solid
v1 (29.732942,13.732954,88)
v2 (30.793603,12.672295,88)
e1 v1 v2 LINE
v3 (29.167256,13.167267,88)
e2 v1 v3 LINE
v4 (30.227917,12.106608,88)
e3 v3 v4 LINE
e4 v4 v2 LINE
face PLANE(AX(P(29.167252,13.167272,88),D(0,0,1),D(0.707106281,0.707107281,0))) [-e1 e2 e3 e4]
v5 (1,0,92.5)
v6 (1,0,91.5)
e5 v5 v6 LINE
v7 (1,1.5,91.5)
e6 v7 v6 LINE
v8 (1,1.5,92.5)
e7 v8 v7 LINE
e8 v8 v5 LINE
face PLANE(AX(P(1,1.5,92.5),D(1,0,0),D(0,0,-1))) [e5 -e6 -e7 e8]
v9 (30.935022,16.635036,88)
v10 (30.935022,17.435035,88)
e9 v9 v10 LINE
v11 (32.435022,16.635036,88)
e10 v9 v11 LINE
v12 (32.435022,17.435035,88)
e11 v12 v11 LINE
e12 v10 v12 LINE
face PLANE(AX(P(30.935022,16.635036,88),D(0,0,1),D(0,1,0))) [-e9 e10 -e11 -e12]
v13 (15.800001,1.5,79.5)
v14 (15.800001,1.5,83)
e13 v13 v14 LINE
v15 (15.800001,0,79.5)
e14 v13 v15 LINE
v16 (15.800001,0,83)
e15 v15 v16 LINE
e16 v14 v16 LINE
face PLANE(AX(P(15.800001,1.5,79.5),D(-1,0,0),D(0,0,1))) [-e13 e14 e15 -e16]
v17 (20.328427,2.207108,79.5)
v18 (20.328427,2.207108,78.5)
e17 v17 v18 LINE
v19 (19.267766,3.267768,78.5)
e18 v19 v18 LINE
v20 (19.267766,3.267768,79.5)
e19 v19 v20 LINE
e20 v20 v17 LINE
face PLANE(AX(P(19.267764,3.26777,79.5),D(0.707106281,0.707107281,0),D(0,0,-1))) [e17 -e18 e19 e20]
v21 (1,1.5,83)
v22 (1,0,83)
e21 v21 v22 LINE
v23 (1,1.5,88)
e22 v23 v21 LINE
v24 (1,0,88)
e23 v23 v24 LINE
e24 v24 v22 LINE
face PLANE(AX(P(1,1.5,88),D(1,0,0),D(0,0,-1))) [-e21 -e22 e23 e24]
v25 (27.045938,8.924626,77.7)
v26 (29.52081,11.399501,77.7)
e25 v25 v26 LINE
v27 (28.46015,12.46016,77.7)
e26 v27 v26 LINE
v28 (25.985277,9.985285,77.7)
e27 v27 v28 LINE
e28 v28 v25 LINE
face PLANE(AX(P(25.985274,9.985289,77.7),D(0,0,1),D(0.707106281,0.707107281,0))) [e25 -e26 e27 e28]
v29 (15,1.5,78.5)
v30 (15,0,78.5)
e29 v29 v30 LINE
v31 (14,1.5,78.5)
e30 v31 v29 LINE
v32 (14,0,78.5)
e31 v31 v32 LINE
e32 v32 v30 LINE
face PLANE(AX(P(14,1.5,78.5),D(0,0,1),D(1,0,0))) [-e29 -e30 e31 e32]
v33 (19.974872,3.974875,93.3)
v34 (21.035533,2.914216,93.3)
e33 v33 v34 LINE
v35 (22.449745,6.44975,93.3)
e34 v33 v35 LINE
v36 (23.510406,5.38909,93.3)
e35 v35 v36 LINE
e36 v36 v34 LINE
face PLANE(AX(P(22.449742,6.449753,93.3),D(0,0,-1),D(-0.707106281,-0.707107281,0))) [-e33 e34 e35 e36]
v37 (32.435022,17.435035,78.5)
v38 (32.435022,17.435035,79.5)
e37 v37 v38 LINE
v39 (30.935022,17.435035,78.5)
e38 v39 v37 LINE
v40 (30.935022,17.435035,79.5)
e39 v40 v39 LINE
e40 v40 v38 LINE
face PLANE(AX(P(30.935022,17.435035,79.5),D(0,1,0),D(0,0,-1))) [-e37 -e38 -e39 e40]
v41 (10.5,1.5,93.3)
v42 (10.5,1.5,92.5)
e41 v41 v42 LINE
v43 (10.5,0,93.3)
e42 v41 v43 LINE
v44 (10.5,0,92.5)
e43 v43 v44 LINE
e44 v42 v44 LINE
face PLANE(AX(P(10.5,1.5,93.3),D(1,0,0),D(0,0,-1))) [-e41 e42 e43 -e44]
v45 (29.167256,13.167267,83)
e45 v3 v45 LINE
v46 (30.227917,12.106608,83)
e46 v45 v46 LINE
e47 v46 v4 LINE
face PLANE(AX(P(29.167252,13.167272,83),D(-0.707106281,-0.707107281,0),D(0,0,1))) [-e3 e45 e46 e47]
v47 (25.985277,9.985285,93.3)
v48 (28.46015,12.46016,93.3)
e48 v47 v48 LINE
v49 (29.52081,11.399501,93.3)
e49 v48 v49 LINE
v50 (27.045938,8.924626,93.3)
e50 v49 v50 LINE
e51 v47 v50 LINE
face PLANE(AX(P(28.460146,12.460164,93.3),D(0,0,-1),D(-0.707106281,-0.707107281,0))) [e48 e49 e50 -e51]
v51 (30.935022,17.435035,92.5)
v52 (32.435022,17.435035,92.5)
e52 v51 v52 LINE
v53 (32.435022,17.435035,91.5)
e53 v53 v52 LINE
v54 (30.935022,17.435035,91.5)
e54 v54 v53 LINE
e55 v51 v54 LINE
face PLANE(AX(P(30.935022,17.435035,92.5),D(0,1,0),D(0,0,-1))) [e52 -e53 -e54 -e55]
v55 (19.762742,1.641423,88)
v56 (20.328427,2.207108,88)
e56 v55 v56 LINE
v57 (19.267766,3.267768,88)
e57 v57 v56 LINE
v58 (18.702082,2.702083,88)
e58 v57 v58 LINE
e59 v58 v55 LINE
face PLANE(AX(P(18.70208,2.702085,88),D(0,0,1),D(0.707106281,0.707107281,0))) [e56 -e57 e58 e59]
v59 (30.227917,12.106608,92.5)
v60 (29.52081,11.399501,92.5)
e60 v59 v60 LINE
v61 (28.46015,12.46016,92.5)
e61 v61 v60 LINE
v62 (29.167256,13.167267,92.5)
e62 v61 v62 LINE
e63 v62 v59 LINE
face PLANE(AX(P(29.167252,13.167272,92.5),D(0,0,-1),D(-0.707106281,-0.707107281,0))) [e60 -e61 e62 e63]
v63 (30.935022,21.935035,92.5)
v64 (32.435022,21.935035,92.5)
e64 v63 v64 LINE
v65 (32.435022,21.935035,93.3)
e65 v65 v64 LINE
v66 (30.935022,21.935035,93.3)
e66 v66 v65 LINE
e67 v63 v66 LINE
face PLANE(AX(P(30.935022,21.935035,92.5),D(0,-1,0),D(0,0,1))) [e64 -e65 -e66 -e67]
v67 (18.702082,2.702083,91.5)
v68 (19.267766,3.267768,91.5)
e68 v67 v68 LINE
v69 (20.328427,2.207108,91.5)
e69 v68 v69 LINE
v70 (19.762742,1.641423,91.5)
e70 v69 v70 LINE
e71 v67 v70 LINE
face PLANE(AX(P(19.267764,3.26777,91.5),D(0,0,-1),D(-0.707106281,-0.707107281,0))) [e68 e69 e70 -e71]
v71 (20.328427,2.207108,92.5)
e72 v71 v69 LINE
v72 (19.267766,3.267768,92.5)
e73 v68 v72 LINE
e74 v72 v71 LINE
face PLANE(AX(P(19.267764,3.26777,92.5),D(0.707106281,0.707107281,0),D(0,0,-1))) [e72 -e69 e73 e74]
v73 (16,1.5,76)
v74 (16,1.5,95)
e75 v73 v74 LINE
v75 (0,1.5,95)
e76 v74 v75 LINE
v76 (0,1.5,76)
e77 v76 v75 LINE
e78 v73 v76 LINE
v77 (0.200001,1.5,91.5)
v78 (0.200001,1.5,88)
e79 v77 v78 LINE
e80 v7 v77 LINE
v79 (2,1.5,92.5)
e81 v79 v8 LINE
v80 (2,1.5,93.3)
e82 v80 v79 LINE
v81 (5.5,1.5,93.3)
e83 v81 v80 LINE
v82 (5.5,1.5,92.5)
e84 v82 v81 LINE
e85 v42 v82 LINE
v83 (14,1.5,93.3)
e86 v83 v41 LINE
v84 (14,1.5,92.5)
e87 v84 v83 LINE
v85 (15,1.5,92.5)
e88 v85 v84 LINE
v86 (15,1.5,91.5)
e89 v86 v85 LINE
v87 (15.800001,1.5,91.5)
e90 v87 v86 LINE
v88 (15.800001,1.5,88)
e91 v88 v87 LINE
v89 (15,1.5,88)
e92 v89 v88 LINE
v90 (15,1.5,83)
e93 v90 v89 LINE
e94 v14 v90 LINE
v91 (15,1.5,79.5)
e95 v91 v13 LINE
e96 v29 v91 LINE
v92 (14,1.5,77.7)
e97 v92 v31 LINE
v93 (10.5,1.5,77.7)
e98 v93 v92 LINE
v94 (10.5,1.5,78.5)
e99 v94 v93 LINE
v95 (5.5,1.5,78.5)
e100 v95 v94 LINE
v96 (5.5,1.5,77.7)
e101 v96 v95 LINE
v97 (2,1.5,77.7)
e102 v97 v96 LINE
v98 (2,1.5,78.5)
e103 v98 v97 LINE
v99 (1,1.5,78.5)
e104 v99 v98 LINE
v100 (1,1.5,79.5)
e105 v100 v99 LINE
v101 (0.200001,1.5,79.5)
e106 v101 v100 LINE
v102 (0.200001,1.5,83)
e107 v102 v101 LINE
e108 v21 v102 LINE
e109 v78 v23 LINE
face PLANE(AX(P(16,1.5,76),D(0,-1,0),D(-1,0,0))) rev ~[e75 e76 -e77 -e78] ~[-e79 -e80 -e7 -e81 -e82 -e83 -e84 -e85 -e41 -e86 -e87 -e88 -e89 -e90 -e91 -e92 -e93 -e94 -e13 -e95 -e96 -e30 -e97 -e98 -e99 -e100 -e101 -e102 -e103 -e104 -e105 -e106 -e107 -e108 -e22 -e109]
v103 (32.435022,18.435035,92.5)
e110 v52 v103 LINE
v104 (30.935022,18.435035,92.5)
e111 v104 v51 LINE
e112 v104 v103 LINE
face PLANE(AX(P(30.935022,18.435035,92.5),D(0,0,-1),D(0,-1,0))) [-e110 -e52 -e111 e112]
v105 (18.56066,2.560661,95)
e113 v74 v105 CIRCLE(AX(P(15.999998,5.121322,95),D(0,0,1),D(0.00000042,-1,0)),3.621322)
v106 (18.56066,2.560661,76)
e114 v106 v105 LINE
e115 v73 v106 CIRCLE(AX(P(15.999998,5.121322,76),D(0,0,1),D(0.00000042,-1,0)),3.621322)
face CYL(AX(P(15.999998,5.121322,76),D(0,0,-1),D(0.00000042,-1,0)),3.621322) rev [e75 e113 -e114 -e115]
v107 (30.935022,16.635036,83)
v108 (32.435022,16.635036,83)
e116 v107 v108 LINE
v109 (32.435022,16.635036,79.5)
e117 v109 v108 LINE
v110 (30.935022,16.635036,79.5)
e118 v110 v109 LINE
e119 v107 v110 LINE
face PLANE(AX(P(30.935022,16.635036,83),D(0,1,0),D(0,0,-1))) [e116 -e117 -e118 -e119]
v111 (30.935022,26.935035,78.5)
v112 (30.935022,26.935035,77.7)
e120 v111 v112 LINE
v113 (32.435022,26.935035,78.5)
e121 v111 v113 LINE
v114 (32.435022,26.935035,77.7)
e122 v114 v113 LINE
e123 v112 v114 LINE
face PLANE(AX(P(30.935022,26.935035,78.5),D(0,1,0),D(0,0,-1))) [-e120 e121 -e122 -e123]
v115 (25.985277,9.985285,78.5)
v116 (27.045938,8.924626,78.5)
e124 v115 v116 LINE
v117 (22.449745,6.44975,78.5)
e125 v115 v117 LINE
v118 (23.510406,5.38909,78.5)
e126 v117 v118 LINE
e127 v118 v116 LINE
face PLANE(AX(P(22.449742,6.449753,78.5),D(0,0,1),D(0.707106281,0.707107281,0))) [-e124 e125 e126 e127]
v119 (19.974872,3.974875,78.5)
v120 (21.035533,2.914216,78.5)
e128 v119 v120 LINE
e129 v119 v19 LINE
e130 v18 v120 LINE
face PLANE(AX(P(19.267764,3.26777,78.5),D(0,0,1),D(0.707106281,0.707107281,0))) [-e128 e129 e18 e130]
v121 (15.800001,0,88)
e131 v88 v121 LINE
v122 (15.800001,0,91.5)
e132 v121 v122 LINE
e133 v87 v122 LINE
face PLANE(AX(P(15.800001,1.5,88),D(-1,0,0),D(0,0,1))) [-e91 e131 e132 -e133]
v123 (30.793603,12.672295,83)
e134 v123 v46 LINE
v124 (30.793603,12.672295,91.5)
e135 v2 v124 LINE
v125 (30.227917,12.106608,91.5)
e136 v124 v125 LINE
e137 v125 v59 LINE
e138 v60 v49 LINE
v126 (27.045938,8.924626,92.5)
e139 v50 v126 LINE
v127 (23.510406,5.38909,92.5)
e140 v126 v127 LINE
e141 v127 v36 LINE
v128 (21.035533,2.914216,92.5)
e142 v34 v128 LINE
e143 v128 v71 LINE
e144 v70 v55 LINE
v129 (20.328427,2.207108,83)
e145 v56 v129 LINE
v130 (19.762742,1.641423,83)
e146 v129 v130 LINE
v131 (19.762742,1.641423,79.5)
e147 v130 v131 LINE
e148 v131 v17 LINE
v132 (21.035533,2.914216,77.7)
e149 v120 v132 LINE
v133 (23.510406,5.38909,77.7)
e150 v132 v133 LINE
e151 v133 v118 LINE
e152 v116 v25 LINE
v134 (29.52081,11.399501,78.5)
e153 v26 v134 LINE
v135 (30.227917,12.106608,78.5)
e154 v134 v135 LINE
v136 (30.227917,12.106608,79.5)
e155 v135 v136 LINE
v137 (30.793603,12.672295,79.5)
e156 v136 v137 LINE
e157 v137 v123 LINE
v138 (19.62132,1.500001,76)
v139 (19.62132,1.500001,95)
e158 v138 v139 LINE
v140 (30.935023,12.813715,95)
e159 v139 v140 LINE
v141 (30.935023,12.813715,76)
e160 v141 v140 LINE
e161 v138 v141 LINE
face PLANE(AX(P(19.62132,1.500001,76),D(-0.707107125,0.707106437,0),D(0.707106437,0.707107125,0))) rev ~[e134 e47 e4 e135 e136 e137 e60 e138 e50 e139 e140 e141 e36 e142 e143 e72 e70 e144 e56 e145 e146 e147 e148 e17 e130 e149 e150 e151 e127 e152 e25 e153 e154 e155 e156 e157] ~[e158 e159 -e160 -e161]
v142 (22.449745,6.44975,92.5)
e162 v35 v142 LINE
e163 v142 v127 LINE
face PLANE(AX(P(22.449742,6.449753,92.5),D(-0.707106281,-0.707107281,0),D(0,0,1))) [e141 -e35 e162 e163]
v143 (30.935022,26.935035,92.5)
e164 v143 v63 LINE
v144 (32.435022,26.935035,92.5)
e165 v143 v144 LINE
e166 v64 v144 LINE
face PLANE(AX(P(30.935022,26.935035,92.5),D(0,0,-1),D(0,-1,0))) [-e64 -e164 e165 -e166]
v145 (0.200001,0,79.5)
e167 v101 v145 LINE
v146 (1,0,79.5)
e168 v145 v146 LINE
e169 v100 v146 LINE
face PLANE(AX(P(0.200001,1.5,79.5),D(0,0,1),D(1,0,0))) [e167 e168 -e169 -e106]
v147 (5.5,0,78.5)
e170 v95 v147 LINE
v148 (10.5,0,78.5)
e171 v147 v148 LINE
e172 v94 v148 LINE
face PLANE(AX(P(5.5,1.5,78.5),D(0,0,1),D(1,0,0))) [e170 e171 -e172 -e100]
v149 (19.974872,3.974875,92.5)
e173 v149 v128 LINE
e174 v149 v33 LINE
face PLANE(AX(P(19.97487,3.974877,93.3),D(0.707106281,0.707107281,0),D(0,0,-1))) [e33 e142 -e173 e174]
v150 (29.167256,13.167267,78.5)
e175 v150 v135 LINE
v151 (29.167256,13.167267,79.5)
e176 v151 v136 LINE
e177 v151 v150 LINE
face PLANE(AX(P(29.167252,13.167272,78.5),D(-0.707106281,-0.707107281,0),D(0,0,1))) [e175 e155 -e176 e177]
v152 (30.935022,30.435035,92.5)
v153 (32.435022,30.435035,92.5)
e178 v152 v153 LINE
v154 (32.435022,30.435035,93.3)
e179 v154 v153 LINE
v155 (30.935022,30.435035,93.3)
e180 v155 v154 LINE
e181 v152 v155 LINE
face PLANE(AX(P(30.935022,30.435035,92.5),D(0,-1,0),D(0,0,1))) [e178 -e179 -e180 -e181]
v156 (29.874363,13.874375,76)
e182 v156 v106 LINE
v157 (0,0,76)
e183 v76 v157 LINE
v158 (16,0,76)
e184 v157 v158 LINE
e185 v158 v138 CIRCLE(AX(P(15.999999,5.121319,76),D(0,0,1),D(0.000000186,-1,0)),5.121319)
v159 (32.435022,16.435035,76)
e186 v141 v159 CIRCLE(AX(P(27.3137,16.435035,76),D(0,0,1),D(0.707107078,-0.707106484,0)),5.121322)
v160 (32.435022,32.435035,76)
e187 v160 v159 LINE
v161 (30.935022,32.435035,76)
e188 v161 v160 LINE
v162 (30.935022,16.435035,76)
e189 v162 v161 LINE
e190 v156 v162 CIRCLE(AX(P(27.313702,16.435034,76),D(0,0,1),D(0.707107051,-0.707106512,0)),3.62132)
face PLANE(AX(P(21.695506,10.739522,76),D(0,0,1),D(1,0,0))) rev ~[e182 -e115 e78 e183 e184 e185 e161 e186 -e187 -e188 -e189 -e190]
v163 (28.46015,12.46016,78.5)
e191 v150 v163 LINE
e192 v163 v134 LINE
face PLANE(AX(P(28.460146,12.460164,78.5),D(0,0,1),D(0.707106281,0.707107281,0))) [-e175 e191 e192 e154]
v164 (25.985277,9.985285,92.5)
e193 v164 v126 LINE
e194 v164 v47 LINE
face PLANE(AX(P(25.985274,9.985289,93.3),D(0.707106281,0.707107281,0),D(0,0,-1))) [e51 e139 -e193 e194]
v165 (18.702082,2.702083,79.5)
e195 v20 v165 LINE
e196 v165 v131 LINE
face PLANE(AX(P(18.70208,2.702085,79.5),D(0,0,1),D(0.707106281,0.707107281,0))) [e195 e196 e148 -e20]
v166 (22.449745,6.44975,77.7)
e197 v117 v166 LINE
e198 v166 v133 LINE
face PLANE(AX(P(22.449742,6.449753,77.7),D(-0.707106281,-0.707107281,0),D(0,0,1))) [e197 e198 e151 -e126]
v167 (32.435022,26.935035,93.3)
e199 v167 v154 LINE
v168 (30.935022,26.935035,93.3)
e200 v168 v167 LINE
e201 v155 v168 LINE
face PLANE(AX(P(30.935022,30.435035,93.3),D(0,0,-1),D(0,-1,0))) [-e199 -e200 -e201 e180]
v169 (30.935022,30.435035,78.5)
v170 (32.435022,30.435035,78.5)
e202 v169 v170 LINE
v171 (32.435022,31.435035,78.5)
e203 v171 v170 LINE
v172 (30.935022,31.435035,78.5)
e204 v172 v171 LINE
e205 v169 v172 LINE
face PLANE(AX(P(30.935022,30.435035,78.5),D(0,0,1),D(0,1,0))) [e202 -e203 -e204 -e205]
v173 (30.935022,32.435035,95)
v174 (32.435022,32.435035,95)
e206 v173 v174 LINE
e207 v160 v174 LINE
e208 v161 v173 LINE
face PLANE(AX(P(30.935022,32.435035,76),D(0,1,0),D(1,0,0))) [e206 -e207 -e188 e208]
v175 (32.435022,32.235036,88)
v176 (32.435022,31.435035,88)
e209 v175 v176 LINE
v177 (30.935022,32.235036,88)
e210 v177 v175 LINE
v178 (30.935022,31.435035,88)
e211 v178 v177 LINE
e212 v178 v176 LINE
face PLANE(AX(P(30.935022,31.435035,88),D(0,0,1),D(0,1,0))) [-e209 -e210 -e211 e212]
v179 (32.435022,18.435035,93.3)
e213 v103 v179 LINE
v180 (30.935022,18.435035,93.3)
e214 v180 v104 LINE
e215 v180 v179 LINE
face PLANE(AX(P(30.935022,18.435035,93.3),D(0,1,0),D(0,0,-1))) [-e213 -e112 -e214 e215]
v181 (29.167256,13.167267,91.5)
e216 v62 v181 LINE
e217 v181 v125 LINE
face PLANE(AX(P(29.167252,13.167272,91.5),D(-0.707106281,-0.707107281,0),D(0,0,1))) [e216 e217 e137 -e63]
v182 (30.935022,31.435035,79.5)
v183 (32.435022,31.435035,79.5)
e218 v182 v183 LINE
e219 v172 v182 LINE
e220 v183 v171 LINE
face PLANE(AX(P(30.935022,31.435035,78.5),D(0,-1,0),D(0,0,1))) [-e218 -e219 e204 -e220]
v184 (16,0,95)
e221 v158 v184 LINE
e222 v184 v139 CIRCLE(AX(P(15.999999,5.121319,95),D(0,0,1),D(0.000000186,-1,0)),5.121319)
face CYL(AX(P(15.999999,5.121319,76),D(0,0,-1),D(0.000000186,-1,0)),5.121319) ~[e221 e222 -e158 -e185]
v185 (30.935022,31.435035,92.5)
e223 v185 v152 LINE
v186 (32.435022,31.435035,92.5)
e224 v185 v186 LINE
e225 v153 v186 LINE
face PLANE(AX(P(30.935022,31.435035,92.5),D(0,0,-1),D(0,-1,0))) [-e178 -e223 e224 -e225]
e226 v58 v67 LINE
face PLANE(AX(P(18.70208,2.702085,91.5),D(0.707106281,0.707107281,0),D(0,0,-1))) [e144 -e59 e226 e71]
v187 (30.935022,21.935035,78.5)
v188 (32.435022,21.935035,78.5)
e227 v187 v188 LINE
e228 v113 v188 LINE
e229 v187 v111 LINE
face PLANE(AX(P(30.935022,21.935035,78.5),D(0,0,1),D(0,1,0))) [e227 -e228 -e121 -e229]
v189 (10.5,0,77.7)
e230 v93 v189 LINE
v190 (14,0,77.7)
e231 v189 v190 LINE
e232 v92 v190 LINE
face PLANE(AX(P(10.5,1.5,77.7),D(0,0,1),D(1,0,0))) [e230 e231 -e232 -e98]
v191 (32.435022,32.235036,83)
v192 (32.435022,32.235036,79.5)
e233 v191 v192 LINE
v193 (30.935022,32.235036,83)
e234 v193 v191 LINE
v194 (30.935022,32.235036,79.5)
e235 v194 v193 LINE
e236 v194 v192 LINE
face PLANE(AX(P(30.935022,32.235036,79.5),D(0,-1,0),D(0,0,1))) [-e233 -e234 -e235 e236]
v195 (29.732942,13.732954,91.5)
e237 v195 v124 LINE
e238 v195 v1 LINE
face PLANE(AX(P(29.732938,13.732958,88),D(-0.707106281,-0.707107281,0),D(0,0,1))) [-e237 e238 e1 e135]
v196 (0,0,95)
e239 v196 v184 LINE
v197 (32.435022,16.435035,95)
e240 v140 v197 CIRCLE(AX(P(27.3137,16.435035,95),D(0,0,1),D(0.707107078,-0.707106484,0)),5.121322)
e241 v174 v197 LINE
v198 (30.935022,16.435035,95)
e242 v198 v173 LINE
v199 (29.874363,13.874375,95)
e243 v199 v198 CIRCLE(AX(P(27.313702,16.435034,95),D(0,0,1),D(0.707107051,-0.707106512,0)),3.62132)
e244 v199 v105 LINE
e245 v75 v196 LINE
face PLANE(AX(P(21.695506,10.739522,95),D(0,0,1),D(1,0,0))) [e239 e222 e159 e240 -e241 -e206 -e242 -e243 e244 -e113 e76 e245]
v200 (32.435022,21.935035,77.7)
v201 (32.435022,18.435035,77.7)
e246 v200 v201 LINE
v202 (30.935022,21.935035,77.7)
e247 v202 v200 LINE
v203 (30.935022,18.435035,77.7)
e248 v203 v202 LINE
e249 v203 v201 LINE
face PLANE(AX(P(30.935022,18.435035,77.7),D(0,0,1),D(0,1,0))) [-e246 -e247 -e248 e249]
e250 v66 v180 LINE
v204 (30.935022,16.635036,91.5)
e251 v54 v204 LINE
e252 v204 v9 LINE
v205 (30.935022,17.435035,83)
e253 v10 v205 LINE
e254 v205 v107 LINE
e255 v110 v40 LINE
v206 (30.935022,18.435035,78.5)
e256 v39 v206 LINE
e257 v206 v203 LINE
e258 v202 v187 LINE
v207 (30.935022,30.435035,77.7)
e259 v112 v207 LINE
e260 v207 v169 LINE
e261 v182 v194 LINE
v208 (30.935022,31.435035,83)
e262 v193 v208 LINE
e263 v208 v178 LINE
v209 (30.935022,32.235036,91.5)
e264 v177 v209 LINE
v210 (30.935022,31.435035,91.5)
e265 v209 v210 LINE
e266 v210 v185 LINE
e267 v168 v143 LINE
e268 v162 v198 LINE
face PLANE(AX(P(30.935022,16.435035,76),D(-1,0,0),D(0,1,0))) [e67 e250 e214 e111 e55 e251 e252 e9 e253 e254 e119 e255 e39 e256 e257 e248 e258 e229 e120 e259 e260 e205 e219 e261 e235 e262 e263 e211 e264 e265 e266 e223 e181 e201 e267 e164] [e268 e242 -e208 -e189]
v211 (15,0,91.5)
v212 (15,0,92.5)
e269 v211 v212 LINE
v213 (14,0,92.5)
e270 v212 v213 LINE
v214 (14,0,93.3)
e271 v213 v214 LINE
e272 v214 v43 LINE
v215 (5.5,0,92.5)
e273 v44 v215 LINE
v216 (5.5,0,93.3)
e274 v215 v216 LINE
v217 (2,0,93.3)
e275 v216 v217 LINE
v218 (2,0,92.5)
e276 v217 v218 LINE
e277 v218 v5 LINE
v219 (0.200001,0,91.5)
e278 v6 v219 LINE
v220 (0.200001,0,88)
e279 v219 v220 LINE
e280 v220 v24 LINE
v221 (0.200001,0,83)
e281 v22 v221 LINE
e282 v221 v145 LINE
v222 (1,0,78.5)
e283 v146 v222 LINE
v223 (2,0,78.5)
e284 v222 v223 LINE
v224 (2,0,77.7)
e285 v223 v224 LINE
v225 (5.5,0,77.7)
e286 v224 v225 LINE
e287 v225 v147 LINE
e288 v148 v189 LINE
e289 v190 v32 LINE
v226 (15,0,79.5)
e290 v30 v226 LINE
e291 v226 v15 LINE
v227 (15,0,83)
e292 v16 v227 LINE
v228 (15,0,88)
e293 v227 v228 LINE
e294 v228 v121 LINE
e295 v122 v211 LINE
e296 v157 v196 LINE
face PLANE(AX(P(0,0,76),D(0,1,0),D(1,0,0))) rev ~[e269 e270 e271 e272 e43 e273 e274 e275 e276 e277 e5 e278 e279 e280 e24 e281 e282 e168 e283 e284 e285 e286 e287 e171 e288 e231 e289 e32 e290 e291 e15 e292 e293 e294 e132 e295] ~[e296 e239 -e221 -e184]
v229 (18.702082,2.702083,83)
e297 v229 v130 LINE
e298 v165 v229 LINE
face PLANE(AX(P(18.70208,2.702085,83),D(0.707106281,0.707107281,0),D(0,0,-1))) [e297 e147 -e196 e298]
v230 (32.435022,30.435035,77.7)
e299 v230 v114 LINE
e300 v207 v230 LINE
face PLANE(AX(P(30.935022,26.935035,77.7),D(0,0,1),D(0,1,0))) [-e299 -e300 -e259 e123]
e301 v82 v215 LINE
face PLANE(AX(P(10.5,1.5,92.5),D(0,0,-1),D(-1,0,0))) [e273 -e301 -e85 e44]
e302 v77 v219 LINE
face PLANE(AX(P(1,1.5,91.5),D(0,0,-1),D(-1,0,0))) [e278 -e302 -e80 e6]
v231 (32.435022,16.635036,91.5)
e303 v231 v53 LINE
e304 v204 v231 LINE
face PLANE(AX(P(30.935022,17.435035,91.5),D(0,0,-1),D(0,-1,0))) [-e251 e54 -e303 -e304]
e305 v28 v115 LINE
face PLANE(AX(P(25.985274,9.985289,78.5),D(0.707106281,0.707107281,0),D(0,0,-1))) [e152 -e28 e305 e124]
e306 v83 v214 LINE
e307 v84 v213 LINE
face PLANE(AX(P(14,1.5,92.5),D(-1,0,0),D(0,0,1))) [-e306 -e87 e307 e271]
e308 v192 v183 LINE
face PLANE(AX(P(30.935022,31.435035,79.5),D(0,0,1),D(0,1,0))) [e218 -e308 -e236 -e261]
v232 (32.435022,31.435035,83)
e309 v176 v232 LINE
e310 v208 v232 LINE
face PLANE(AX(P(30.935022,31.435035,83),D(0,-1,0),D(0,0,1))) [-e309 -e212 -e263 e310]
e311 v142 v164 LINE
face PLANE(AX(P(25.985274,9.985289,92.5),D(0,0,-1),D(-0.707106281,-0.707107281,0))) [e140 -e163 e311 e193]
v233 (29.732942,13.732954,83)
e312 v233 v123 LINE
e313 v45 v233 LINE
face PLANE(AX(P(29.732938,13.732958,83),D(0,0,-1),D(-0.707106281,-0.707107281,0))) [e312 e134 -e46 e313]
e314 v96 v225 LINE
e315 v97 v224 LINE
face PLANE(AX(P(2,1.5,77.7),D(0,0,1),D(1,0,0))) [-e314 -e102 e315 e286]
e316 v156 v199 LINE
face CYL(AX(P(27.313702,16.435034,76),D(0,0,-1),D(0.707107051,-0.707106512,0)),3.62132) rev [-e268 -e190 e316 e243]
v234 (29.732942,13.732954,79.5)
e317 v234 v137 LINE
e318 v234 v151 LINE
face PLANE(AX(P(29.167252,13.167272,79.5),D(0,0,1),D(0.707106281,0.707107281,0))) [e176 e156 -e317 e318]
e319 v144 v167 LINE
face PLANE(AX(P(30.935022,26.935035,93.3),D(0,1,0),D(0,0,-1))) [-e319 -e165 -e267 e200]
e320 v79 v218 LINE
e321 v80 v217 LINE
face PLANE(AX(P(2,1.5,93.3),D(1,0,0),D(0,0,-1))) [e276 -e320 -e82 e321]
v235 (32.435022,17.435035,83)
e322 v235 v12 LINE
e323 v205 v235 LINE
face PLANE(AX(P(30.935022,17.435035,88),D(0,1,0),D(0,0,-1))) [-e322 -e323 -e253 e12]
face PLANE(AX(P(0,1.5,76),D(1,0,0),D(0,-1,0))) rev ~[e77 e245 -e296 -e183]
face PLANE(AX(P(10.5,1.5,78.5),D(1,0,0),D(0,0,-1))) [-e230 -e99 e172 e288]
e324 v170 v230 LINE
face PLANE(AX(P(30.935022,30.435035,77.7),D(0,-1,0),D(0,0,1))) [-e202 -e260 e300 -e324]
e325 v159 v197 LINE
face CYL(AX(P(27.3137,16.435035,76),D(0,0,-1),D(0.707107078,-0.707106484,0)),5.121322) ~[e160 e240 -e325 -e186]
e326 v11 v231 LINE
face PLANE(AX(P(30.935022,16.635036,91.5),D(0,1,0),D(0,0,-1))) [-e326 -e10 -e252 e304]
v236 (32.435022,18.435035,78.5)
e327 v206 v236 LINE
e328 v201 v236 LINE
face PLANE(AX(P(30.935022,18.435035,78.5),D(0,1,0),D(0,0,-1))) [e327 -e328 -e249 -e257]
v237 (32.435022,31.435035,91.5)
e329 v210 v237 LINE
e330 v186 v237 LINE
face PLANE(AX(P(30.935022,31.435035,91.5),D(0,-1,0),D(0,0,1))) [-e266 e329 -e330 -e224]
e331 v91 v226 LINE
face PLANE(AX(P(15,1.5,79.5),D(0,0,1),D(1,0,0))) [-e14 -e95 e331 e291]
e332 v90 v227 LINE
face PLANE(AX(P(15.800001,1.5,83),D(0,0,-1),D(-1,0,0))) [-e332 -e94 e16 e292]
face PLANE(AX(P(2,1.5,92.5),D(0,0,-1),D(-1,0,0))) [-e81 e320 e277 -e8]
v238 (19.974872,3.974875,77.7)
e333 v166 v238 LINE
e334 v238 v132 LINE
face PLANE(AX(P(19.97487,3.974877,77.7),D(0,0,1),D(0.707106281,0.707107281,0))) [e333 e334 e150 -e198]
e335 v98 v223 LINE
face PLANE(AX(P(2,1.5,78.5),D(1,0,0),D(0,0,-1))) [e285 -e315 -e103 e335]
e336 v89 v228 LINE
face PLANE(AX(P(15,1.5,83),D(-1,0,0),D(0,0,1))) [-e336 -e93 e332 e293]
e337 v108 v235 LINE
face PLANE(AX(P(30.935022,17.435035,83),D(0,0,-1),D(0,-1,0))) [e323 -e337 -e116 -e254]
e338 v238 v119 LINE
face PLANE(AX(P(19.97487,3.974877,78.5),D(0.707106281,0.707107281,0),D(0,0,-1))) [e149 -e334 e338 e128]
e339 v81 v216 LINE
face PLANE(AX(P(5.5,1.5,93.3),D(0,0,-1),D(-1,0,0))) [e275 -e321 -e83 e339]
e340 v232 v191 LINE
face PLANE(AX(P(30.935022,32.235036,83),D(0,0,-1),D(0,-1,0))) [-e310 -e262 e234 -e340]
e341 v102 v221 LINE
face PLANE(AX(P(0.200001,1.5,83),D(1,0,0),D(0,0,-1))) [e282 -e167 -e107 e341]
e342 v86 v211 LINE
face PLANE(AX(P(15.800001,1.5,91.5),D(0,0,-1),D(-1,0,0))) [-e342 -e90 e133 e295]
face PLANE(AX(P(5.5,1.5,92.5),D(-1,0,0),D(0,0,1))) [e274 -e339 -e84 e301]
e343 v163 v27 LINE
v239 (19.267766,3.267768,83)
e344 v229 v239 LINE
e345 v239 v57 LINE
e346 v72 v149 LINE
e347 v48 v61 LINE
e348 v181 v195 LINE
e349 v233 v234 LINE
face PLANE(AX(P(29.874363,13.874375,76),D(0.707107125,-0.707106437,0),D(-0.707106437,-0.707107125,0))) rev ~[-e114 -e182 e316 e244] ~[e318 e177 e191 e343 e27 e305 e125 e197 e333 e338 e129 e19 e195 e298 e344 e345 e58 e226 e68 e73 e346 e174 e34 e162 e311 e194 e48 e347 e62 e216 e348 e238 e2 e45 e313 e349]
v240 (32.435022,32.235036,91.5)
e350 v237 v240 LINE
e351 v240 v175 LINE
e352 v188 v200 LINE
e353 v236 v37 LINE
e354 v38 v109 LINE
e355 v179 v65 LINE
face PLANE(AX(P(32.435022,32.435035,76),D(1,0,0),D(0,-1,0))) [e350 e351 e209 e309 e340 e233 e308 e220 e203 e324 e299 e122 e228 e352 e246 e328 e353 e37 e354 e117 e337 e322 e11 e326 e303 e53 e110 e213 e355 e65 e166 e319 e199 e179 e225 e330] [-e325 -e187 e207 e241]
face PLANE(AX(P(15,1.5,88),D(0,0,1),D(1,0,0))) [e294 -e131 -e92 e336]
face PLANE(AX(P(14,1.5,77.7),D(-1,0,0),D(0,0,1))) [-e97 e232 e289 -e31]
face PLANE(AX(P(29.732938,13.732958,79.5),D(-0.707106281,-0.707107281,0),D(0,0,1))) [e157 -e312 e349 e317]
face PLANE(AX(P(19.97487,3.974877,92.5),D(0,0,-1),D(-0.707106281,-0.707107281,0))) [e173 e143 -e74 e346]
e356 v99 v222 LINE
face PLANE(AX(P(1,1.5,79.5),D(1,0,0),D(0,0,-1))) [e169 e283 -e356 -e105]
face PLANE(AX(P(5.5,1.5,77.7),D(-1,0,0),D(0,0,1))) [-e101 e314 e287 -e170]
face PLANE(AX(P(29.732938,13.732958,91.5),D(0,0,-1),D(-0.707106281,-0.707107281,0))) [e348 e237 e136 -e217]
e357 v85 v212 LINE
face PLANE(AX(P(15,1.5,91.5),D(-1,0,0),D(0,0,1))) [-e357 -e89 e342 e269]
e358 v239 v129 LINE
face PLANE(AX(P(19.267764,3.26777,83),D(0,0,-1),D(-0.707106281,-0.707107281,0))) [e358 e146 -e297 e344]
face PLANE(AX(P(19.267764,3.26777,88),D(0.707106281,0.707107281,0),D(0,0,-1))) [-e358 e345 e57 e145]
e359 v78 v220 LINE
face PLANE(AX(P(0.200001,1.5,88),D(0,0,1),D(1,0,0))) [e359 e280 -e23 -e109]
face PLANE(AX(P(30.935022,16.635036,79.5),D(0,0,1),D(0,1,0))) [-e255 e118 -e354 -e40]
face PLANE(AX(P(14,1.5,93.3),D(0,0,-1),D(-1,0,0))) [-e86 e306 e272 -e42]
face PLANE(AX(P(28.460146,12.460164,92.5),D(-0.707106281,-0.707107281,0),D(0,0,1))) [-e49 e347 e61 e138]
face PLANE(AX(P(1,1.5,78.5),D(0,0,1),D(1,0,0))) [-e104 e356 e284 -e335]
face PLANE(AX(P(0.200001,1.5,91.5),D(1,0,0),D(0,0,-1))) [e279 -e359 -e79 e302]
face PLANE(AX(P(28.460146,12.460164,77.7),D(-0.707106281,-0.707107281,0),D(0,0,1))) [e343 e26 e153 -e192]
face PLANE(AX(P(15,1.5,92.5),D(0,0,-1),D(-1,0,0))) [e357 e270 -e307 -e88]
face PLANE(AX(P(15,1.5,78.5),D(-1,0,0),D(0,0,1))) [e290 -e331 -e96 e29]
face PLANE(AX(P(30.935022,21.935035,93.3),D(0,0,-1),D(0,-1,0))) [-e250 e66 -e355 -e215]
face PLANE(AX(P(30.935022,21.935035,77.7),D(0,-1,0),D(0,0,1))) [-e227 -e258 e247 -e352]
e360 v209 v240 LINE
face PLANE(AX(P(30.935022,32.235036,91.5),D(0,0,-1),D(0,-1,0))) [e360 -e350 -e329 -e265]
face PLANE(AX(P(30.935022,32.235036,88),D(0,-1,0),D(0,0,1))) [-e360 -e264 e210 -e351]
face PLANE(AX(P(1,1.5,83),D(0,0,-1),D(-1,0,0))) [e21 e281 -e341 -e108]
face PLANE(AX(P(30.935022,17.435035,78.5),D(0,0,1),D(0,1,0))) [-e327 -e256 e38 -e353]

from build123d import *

# Parameters (mm, degrees)
PAD_DEPTH       = 19
POCKET_DEPTH    = 11.62232
POCKET002_DEPTH = 1.501
POCKET003_DEPTH = 1.501


with BuildPart() as part:
    # Sketch → Pad (new body)
    with BuildSketch(Plane.XY):
        with BuildLine():
            Line((0, 0), (16, 0))
            ThreePointArc((16, 0), (17.959845, 0.389838), (19.62132, 1.500001))
            Line((19.62132, 1.500001), (30.935023, 12.813715))
            ThreePointArc((30.935023, 12.813715), (32.045185, 14.475191), (32.435022, 16.435035))
            Line((32.435022, 32.435035), (32.435022, 16.435035))
            Line((30.935022, 32.435035), (32.435022, 32.435035))
            Line((30.935022, 16.435035), (30.935022, 32.435035))
            ThreePointArc((29.874363, 13.874375), (30.659366, 15.049216), (30.935022, 16.435035))
            Line((29.874363, 13.874375), (18.56066, 2.560661))
            ThreePointArc((16, 1.5), (17.385819, 1.775657), (18.56066, 2.560661))
            Line((16, 1.5), (0, 1.5))
            Line((0, 1.5), (0, 0))
        make_face()
    extrude(amount=PAD_DEPTH)

    # Sketch004 → Pocket (cut, through all)
    with BuildSketch(Plane(origin=(8.000009, -8.000001, 0), x_dir=(-0.707106, -0.707107, 0), z_dir=(-0.707107, 0.707106, 0))):
        Polygon((-28.935023, 17.3), (-25.435023, 17.3), (-25.435023, 16.5), (-20.435023, 16.5), (-20.435023, 17.3), (-16.935023, 17.3), (-16.935023, 16.5), (-15.935023, 16.5), (-15.935023, 15.5), (-15.135024, 15.5), (-15.135024, 12), (-15.935023, 12), (-15.935023, 7), (-15.135024, 7), (-15.135024, 3.5), (-15.935023, 3.5), (-15.935023, 2.5), (-16.935023, 2.5), (-16.935023, 1.7), (-20.435023, 1.7), (-20.435023, 2.5), (-25.435023, 2.5), (-25.435023, 1.7), (-28.935023, 1.7), (-28.935023, 2.5), (-29.935023, 2.5), (-29.935023, 3.5), (-30.735024, 3.5), (-30.735024, 7), (-29.935023, 7), (-29.935023, 12), (-30.735024, 12), (-30.735024, 15.5), (-29.935023, 15.5), (-29.935023, 16.5), (-28.935023, 16.5), align=None)
    extrude(amount=-POCKET_DEPTH, mode=Mode.SUBTRACT)

    # Sketch004001 → Pocket002 (cut, through all)
    with BuildSketch(Plane(origin=(30.935022, 0, 0), x_dir=(0, -1, 0), z_dir=(-1, 0, 0))):
        Polygon((-30.435035, 17.3), (-26.935035, 17.3), (-26.935035, 16.5), (-21.935035, 16.5), (-21.935035, 17.3), (-18.435035, 17.3), (-18.435035, 16.5), (-17.435035, 16.5), (-17.435035, 15.5), (-16.635036, 15.5), (-16.635036, 12), (-17.435035, 12), (-17.435035, 7), (-16.635036, 7), (-16.635036, 3.5), (-17.435035, 3.5), (-17.435035, 2.5), (-18.435035, 2.5), (-18.435035, 1.7), (-21.935035, 1.7), (-21.935035, 2.5), (-26.935035, 2.5), (-26.935035, 1.7), (-30.435035, 1.7), (-30.435035, 2.5), (-31.435035, 2.5), (-31.435035, 3.5), (-32.235036, 3.5), (-32.235036, 7), (-31.435035, 7), (-31.435035, 12), (-32.235036, 12), (-32.235036, 15.5), (-31.435035, 15.5), (-31.435035, 16.5), (-30.435035, 16.5), align=None)
    extrude(amount=-POCKET002_DEPTH, mode=Mode.SUBTRACT)

    # Sketch004001001 → Pocket003 (cut, through all)
    with BuildSketch(Plane(origin=(0, 1.5, 0), x_dir=(-1, 0, 0), z_dir=(0, 1, 0))):
        Polygon((-14, 17.3), (-10.5, 17.3), (-10.5, 16.5), (-5.5, 16.5), (-5.5, 17.3), (-2, 17.3), (-2, 16.5), (-1, 16.5), (-1, 15.5), (-0.200001, 15.5), (-0.200001, 12), (-1, 12), (-1, 7), (-0.200001, 7), (-0.200001, 3.5), (-1, 3.5), (-1, 2.5), (-2, 2.5), (-2, 1.7), (-5.5, 1.7), (-5.5, 2.5), (-10.5, 2.5), (-10.5, 1.7), (-14, 1.7), (-14, 2.5), (-15, 2.5), (-15, 3.5), (-15.800001, 3.5), (-15.800001, 7), (-15, 7), (-15, 12), (-15.800001, 12), (-15.800001, 15.5), (-15, 15.5), (-15, 16.5), (-14, 16.5), align=None)
    extrude(amount=-POCKET003_DEPTH, mode=Mode.SUBTRACT)


with BuildPart() as part_1:
    # Clone placement: moved
    add(part.part.moved(Location((0, 2.38, 19))))


with BuildPart() as part_2:
    # Clone001 placement: moved
    add(part_1.part.moved(Location((0, 4.75, 19))))


with BuildPart() as part_3:
    # Clone002 placement: moved
    add(part_2.part.moved(Location((0, -2.38, 19))))


with BuildPart() as part_4:
    # Clone003 placement: moved
    add(part_3.part.moved(Location((0, -4.75, 19))))


solid = part_4.part
